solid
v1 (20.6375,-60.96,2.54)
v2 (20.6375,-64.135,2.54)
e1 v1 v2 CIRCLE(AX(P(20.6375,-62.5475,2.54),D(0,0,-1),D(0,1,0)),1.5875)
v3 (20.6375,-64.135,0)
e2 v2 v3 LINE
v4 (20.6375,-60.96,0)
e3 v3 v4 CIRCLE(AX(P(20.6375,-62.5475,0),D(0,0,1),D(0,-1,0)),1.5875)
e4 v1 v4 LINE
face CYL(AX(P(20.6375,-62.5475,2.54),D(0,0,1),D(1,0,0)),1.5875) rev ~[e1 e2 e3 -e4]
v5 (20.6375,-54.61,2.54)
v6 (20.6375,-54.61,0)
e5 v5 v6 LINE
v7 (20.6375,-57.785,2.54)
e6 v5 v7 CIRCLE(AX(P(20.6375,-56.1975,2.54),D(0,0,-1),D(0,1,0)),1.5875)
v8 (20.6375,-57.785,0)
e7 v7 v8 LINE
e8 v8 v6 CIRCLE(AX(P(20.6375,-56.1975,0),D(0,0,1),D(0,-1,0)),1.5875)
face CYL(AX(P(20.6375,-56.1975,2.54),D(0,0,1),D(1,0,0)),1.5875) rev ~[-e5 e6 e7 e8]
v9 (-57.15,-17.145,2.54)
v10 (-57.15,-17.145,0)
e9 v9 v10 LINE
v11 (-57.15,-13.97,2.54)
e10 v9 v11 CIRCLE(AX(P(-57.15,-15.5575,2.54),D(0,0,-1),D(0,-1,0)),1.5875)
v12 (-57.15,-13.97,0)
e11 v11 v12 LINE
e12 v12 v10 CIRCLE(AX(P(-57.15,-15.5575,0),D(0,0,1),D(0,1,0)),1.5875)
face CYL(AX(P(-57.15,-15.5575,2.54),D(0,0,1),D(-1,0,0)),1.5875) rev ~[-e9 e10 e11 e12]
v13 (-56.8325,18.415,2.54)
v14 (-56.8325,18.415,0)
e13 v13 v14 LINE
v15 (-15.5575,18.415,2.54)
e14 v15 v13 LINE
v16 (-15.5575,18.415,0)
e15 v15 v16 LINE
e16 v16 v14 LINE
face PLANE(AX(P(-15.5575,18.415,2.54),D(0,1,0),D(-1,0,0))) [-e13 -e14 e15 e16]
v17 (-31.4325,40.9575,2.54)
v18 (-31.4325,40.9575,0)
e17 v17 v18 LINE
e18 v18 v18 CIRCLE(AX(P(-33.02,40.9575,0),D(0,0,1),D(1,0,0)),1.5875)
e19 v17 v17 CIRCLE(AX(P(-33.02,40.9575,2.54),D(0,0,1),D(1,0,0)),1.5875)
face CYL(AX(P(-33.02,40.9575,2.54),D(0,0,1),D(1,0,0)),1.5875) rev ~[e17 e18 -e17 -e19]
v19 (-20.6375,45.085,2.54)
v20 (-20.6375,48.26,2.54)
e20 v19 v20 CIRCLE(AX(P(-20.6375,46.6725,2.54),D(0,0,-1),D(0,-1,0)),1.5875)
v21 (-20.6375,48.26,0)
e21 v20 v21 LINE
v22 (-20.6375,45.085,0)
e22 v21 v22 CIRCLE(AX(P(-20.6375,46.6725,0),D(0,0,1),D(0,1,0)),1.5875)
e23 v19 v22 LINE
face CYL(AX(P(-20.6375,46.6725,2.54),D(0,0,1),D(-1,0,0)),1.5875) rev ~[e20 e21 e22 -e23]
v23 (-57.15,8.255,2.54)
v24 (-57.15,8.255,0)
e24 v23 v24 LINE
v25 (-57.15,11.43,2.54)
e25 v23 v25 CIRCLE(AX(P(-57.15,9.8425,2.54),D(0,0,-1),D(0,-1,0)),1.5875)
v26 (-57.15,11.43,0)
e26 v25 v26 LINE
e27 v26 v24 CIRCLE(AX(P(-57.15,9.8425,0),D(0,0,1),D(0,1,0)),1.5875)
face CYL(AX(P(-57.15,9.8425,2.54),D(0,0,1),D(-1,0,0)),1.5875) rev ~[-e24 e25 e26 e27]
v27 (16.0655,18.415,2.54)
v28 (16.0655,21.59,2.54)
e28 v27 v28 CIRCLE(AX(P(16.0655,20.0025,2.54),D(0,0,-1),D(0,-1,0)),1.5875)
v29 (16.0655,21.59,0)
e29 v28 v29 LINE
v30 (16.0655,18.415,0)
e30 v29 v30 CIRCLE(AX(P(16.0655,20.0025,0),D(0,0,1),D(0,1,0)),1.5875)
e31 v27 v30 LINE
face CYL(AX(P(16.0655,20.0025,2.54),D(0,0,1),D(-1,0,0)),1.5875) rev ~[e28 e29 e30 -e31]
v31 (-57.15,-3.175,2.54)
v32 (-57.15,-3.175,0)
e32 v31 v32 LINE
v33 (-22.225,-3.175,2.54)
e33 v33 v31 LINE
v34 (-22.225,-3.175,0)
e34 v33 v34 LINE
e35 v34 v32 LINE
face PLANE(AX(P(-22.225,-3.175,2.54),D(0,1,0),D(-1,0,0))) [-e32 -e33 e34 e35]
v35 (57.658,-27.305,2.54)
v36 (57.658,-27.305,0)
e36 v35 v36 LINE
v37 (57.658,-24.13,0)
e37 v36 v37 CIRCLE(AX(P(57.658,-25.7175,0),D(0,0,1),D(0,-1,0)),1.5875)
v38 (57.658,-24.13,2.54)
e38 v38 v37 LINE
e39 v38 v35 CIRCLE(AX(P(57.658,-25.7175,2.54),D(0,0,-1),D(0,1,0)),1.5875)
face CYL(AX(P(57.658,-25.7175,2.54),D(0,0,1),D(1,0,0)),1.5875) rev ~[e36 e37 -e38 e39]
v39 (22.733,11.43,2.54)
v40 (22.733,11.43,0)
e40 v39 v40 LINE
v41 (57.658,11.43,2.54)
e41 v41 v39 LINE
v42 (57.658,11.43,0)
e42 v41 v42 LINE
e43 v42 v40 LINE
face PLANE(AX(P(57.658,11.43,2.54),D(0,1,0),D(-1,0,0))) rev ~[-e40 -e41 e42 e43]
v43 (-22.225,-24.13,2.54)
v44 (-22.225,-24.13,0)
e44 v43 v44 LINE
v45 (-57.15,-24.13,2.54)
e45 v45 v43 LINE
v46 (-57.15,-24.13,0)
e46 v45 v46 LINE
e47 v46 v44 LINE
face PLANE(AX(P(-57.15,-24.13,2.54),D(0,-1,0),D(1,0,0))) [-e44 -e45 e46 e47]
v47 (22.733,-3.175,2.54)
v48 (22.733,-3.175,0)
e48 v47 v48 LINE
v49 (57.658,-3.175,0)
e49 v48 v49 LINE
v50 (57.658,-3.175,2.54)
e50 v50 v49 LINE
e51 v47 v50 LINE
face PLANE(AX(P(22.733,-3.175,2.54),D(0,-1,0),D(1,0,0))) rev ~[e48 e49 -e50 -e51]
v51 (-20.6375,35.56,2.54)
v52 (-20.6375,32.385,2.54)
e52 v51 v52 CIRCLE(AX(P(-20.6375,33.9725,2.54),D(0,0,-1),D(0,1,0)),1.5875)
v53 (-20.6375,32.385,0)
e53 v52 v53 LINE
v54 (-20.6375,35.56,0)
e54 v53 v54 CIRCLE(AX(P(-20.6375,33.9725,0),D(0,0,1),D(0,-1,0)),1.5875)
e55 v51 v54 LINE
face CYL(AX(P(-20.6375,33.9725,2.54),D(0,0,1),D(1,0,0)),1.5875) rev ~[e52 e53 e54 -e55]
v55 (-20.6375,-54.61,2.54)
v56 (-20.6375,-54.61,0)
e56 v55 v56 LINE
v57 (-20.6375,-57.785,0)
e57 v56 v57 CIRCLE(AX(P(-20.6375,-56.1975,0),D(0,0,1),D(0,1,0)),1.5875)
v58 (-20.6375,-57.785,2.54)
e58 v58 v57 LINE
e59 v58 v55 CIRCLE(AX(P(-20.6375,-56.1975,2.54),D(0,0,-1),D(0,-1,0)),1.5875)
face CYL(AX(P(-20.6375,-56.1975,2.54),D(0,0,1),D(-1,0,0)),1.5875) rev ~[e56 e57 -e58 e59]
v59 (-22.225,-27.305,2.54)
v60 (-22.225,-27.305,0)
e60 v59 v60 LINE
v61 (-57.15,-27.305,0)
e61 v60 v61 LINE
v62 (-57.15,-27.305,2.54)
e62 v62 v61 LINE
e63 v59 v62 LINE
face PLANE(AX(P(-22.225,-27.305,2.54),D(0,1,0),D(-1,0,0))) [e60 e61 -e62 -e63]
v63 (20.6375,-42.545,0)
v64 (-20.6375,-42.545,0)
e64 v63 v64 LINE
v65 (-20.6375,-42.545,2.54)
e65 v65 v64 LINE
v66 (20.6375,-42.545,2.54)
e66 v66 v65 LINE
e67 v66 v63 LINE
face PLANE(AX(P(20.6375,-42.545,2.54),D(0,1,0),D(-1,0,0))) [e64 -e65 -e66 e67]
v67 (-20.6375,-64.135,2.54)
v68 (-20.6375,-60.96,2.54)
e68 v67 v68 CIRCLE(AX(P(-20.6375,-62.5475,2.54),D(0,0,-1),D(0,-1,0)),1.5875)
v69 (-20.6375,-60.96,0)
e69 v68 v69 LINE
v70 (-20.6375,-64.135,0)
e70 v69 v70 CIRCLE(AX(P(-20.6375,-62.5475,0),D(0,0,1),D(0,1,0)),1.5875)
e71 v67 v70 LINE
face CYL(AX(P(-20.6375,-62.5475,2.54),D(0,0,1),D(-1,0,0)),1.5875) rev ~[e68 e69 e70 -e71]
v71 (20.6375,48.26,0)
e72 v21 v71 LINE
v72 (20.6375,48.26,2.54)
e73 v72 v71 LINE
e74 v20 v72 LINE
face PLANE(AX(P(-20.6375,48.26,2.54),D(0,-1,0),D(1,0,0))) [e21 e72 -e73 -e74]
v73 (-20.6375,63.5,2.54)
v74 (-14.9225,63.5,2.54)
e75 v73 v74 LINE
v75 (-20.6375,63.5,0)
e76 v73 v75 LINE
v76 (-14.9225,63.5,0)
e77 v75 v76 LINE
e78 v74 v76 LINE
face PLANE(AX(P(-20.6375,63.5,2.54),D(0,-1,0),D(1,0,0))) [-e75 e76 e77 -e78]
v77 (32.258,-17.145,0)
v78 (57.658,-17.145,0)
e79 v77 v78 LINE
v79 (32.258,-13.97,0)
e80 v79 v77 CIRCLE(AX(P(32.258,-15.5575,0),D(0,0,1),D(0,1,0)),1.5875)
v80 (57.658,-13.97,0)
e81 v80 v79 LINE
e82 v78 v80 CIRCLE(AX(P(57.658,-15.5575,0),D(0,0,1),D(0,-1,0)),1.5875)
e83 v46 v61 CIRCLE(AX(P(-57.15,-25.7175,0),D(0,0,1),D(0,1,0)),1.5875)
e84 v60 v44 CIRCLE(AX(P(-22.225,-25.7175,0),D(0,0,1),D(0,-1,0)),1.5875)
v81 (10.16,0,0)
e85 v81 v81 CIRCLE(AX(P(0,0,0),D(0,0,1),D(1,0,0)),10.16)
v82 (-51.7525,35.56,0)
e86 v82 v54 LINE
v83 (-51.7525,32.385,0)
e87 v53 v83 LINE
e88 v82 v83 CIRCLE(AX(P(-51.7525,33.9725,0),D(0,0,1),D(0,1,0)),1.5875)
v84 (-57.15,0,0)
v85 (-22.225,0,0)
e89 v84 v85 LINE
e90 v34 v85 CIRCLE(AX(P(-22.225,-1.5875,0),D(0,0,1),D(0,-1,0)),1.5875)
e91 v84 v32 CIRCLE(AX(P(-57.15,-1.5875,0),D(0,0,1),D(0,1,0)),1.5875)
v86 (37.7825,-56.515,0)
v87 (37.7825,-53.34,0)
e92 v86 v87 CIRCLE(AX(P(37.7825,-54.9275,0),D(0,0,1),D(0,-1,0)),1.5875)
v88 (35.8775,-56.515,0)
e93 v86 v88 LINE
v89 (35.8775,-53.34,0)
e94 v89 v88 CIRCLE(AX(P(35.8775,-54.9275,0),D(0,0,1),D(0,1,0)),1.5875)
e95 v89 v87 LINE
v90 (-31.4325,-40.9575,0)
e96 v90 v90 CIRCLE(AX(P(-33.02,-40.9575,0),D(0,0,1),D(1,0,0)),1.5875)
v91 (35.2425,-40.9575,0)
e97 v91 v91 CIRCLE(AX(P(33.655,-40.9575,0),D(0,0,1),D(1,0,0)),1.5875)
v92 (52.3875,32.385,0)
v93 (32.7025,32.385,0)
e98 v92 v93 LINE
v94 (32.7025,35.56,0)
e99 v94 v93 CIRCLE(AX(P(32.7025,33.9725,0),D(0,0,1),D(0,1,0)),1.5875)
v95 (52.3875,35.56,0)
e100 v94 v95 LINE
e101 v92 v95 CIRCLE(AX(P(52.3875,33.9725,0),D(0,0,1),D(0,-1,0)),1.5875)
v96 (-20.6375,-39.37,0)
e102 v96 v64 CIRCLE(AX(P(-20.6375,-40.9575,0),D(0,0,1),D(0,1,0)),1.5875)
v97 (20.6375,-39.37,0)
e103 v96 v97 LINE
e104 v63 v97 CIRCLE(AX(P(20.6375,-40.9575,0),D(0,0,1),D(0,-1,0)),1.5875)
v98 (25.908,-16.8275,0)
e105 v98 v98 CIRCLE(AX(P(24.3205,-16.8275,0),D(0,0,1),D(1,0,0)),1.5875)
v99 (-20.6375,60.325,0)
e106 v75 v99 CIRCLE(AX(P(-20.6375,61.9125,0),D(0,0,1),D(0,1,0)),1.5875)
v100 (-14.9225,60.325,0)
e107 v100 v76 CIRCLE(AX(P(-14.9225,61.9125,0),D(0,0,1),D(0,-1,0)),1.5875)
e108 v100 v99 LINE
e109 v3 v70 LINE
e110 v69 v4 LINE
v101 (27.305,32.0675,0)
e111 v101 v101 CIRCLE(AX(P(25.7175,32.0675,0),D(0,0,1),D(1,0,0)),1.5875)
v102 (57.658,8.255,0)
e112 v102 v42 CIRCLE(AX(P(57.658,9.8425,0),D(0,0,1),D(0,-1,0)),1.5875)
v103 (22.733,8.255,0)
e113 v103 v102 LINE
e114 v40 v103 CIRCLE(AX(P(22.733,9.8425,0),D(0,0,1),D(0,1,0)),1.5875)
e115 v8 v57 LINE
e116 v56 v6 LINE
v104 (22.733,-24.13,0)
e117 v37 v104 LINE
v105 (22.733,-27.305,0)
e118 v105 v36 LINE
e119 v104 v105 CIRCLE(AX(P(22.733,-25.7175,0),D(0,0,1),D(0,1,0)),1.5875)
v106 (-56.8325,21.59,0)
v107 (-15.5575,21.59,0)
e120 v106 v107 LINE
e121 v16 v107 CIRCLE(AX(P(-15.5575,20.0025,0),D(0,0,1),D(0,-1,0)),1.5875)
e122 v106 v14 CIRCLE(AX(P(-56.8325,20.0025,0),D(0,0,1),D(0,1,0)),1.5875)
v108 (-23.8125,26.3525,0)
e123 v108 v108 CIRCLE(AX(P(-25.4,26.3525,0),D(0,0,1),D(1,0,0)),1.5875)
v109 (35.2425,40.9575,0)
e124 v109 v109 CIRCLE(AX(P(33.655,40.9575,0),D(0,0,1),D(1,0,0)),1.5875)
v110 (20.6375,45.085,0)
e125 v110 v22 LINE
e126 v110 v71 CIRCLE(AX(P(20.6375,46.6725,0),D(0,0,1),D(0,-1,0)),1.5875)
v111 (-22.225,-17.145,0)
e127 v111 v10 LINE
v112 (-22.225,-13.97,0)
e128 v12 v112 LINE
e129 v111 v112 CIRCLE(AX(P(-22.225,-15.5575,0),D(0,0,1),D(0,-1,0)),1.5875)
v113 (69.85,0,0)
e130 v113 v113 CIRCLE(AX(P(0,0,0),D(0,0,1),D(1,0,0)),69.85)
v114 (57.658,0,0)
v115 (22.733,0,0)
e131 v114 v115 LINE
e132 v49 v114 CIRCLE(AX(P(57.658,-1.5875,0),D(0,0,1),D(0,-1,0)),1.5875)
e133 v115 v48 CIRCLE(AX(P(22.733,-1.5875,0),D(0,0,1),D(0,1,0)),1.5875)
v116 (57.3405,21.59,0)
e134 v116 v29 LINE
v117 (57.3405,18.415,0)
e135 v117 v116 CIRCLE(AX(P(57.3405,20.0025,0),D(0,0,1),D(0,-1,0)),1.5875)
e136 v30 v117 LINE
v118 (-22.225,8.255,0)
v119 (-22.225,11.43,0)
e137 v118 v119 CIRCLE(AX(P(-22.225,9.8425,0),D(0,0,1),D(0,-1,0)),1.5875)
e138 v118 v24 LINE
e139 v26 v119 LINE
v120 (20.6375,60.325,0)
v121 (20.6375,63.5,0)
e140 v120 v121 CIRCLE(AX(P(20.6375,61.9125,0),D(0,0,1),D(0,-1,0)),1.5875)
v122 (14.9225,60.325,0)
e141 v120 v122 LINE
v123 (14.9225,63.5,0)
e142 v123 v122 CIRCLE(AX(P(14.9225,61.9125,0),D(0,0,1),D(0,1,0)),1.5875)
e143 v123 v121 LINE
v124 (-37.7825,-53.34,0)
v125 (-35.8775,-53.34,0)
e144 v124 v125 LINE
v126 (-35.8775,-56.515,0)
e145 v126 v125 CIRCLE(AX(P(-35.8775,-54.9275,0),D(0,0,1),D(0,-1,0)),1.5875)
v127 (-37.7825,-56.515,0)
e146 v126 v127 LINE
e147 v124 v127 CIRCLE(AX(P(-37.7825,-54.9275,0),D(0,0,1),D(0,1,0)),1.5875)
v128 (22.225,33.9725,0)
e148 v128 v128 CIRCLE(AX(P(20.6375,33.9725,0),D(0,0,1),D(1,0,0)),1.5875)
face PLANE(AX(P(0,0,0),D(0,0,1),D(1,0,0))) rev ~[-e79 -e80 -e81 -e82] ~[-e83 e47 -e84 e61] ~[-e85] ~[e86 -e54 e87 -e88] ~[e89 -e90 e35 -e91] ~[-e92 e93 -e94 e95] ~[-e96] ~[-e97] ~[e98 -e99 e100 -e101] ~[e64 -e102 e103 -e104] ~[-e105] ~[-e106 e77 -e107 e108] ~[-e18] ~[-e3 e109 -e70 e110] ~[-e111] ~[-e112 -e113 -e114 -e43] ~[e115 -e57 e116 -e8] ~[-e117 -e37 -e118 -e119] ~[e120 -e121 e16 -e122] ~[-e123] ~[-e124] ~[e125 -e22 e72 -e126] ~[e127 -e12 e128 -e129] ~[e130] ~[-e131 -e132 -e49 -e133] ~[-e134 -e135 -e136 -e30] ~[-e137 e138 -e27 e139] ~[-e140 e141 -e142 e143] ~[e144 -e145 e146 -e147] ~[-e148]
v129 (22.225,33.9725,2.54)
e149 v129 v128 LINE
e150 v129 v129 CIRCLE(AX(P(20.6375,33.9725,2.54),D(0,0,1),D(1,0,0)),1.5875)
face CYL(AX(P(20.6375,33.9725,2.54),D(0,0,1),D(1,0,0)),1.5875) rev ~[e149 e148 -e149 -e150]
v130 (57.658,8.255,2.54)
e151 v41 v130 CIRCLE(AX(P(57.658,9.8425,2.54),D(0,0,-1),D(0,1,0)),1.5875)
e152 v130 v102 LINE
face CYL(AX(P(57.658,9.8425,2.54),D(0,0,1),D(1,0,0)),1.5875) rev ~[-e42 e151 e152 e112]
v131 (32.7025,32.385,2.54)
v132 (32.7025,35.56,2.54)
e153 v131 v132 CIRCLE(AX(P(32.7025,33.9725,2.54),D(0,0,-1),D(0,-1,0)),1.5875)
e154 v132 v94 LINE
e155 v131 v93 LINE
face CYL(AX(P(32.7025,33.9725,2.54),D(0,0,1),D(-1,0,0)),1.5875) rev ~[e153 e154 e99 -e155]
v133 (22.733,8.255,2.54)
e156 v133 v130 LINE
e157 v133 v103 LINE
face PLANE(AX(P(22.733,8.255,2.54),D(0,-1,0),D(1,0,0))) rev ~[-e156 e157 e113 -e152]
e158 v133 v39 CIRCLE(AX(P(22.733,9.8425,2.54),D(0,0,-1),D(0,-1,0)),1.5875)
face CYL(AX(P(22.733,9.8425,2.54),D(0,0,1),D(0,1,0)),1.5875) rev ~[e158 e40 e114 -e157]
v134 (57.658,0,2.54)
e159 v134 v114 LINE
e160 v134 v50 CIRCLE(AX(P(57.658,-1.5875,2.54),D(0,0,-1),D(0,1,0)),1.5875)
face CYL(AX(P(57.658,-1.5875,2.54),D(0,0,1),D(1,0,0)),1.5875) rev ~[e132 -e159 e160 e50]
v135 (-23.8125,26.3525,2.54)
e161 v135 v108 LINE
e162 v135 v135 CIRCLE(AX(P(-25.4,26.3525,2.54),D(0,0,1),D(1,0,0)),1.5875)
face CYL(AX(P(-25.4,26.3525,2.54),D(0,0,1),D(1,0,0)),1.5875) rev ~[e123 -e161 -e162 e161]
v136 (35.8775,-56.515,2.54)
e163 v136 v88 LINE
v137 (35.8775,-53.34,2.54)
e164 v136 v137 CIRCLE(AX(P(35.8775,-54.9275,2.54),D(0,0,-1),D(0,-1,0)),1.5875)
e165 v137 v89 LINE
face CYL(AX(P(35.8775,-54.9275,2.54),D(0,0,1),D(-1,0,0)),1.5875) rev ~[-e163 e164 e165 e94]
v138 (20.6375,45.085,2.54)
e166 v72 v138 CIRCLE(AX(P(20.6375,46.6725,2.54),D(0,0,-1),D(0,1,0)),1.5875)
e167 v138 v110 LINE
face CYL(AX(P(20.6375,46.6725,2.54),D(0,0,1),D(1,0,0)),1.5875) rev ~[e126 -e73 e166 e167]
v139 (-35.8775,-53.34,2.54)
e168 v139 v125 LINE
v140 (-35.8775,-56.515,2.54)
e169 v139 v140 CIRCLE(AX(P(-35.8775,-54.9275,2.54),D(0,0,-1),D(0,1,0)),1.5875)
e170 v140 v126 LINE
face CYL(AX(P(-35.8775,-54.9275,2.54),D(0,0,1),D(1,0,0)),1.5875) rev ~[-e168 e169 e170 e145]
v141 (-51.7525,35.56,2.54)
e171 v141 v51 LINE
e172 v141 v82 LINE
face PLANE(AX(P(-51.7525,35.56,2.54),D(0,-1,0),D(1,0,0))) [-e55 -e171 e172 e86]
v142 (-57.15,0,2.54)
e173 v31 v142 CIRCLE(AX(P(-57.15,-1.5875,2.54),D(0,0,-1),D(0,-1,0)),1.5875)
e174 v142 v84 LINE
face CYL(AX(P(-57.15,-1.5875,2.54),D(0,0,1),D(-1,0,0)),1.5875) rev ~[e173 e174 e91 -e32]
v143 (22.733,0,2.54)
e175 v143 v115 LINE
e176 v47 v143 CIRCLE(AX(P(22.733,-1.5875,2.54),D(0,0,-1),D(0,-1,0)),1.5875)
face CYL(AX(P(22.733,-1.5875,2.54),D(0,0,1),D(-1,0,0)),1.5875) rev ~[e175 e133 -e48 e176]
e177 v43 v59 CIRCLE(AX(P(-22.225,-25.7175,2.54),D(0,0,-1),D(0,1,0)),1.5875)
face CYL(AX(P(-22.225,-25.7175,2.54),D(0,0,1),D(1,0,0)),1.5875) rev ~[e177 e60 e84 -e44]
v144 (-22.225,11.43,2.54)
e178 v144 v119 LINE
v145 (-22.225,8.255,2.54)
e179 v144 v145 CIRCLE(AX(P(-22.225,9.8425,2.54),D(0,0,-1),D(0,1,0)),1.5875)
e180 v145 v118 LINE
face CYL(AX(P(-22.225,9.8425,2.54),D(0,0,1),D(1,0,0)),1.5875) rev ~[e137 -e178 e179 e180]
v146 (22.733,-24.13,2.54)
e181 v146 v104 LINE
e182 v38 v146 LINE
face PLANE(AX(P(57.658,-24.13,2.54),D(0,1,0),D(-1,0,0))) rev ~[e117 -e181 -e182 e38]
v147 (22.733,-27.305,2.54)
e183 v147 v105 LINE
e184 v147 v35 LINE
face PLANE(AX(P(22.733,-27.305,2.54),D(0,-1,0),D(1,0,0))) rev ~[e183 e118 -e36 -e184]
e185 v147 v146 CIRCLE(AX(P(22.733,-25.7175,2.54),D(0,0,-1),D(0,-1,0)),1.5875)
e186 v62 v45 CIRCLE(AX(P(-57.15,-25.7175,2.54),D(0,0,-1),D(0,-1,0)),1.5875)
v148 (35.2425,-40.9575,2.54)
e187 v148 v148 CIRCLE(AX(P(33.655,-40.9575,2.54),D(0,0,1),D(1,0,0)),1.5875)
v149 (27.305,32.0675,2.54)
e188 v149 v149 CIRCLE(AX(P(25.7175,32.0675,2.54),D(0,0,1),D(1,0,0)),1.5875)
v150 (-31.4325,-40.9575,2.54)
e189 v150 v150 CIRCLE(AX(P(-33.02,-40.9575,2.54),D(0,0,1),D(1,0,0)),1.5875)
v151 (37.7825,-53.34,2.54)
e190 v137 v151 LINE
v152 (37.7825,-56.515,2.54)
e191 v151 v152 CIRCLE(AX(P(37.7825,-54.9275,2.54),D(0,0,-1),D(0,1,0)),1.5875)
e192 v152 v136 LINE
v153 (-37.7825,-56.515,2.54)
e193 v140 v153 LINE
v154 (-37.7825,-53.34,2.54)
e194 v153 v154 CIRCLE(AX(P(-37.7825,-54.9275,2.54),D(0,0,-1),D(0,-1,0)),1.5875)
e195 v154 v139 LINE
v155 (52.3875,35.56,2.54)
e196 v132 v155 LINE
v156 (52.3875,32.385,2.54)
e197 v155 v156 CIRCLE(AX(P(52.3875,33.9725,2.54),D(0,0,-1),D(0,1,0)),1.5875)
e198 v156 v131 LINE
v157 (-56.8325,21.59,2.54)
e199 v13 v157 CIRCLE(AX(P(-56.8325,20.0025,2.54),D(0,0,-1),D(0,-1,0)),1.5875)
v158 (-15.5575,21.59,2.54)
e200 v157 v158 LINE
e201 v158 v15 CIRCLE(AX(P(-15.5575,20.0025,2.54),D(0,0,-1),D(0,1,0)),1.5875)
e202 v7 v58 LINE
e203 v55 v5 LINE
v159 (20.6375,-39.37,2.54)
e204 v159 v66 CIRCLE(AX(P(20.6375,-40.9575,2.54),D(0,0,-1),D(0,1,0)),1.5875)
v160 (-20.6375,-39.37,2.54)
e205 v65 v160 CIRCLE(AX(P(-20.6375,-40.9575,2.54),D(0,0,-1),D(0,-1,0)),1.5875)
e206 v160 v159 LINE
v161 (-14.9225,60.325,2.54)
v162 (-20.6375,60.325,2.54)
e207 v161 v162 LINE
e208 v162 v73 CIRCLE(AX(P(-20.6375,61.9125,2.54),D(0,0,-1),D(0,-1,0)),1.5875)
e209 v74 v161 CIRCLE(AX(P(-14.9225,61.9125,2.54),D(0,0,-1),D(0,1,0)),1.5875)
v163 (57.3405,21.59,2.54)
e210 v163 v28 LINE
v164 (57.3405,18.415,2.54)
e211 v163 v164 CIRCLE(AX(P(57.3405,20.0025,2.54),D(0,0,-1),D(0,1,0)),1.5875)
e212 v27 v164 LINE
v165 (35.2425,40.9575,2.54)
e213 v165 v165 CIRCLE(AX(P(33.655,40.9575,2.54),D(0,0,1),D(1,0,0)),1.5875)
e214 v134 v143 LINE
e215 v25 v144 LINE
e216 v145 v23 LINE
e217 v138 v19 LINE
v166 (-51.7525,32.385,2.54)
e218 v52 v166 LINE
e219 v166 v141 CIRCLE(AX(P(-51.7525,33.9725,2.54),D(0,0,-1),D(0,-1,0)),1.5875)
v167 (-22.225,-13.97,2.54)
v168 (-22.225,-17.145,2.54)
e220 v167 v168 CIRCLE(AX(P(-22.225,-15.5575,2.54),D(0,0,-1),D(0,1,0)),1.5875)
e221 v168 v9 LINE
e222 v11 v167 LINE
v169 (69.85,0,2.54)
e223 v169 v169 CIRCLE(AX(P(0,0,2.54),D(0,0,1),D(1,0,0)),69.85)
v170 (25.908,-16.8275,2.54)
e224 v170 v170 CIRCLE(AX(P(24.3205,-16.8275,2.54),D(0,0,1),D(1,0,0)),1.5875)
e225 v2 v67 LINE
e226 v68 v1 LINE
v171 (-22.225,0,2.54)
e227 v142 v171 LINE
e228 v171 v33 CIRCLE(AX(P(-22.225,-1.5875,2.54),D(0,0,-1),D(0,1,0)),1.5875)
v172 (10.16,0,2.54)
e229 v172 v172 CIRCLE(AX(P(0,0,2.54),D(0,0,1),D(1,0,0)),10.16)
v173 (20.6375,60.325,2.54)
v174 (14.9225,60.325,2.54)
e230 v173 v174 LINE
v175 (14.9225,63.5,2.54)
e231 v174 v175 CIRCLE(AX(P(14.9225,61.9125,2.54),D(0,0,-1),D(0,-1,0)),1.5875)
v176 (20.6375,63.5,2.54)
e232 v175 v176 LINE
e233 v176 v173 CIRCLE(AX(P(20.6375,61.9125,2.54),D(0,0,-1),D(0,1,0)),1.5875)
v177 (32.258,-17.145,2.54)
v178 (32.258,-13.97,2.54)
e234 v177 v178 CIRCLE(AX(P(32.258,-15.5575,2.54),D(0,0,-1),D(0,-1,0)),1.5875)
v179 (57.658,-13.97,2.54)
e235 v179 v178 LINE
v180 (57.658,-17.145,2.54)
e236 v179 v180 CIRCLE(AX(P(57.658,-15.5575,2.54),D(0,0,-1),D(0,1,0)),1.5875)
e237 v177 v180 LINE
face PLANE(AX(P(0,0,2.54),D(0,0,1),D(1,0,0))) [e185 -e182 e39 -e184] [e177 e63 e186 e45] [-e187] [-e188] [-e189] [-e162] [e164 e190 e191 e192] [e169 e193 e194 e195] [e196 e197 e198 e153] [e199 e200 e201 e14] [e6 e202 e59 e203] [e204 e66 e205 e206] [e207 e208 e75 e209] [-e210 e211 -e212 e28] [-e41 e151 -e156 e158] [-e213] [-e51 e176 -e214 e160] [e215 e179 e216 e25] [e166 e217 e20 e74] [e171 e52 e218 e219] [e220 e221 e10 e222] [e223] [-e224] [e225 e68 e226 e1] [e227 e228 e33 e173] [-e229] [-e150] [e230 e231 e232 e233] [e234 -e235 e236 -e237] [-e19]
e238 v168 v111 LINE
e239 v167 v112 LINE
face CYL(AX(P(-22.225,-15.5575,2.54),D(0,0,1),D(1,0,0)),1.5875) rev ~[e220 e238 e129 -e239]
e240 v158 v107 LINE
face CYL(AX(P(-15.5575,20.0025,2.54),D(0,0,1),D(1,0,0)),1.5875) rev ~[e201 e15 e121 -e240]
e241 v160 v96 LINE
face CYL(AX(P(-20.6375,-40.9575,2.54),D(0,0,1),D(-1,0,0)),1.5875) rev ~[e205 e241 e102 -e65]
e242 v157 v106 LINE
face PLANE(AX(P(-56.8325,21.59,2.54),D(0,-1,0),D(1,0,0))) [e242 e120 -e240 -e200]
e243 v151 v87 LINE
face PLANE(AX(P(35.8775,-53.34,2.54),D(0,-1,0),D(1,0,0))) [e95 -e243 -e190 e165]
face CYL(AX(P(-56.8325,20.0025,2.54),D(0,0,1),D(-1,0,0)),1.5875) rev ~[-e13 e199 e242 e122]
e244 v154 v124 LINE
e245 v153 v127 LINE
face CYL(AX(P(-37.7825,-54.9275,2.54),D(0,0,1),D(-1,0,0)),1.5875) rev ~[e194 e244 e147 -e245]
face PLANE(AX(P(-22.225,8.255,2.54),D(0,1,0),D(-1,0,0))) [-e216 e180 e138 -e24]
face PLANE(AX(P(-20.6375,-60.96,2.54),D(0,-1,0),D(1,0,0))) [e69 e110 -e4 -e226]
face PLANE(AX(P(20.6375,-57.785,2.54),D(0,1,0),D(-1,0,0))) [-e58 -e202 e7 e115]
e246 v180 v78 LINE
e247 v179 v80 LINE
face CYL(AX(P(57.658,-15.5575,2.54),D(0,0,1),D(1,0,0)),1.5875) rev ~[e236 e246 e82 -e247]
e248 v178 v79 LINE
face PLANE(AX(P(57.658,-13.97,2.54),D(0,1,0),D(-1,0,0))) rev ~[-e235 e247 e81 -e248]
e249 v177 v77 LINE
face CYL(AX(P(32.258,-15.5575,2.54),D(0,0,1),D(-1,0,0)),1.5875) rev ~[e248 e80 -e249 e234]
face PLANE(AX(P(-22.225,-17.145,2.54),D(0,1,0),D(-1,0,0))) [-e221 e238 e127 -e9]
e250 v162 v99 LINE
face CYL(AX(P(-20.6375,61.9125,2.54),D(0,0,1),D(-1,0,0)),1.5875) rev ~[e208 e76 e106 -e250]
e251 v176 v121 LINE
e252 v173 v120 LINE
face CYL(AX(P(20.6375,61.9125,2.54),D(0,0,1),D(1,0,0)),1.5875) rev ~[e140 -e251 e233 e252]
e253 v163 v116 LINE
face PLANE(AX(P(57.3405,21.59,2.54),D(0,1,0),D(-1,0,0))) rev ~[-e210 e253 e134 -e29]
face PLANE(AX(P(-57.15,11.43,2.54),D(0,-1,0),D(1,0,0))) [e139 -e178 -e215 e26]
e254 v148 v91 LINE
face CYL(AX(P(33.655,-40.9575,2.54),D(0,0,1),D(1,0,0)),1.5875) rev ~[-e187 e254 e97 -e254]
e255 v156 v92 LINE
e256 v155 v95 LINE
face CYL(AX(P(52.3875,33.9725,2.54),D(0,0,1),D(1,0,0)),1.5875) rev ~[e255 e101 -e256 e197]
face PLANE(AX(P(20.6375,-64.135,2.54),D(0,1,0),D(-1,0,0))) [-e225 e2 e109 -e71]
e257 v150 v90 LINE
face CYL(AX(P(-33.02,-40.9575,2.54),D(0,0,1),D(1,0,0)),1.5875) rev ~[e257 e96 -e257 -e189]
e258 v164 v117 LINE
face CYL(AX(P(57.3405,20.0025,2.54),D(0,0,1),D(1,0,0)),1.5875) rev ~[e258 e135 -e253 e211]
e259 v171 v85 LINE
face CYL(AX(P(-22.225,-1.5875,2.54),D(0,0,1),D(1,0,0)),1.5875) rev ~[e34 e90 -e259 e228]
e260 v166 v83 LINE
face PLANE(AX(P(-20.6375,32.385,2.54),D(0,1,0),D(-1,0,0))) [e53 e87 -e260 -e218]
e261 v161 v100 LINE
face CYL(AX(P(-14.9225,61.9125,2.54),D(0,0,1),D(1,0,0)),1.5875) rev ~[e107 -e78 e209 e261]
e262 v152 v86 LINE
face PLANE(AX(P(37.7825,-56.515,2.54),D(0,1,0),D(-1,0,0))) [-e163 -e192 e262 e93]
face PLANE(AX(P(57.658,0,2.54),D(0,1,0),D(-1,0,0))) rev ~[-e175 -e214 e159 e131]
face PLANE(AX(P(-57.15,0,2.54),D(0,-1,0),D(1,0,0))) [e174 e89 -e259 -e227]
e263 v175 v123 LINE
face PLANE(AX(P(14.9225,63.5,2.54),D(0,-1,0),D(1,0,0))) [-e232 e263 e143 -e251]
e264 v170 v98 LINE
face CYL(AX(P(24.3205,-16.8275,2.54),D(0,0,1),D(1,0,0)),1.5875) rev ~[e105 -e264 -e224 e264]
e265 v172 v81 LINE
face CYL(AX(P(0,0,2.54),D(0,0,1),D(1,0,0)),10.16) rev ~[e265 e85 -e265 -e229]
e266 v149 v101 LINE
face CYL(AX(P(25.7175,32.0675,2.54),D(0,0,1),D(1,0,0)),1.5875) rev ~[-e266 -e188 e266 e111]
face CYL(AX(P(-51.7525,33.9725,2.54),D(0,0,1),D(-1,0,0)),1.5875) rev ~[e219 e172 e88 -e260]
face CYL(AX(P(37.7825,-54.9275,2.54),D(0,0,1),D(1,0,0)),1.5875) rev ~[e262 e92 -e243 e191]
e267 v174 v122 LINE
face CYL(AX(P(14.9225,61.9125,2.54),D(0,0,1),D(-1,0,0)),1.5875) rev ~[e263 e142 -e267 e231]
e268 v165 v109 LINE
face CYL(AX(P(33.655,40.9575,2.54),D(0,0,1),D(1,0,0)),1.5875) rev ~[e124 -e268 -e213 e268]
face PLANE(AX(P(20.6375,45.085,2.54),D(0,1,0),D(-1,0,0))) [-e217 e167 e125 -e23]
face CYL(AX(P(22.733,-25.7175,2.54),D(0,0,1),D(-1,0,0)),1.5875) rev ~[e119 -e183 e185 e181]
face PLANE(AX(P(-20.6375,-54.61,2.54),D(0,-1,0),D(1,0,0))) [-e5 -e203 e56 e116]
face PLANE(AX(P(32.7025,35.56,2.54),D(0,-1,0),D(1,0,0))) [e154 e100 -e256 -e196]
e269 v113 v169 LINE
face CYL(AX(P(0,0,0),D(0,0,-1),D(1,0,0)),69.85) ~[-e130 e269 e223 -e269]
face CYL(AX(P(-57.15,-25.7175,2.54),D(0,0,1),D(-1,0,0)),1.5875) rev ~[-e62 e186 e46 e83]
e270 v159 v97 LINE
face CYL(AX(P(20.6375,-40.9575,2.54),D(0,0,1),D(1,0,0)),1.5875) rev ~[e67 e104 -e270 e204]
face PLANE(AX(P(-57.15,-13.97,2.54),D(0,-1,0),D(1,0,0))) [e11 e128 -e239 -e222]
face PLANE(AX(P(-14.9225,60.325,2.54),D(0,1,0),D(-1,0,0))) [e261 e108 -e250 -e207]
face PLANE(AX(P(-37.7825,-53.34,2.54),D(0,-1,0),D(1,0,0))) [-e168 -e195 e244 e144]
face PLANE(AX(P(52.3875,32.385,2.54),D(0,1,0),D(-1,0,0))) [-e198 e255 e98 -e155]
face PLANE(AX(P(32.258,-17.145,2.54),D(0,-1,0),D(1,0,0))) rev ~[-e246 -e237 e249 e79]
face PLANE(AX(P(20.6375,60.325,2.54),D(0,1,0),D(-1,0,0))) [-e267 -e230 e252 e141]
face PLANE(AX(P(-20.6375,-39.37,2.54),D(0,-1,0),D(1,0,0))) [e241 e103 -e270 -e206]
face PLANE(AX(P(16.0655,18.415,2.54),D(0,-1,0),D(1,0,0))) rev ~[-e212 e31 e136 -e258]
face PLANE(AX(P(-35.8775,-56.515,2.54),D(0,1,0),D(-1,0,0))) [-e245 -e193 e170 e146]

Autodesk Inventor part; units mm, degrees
ref_plane "YZ Plane" through (0, 0, 0) normal (1, 0, 0) x (0, 1, 0)
ref_plane "XZ Plane" through (0, 0, 0) normal (0, 1, 0) x (-1, 0, 0)
ref_plane "XY Plane" through (0, 0, 0) normal (0, 0, 1) x (1, 0, 0)
sketch "Sketch1" plane through (0, 0, 0) normal (0, 0, 1) x (1, 0, 0)
  circle A0 centre (0, 0) radius 69.85
  dimension "d0" = 139.7
extrude "Extrusion1" add sketch "Sketch1" along normal blind 2.54
sketch "Sketch2" plane through (0, 0, 2.54) normal (0, 0, 1) x (1, 0, 0)
  circle A0 centre (0, 0) radius 10.16
  dimension "d3" = 20.32
extrude "Extrusion2" cut sketch "Sketch2" against normal blind 2.54
sketch "Sketch3" plane through (0, 0, 2.54) normal (0, 0, 1) x (1, 0, 0)
  circle A0 centre (0, 0) radius 69.85 projected
  line L0 (-20.6375, 48.26) -> (20.6375, 48.26)
  line L1 (22.225, 46.6725) -> (22.225, 46.6725)
  line L2 (20.6375, 45.085) -> (-20.6375, 45.085)
  line L3 (-22.225, 46.6725) -> (-22.225, 46.6725)
  line L4 (14.9225, 63.5) -> (20.6375, 63.5)
  line L5 (22.225, 61.9125) -> (22.225, 61.9125)
  line L6 (20.6375, 60.325) -> (14.9225, 60.325)
  line L7 (13.335, 61.9125) -> (13.335, 61.9125)
  line L8 (-14.9225, 60.325) -> (-20.6375, 60.325)
  line L9 (-22.225, 61.9125) -> (-22.225, 61.9125)
  line L10 (-20.6375, 63.5) -> (-14.9225, 63.5)
  line L11 (-13.335, 61.9125) -> (-13.335, 61.9125)
  arc A1 (20.6375, 45.085) -> (22.225, 46.6725) centre (20.6375, 46.6725) ccw
  arc A2 (22.225, 46.6725) -> (20.6375, 48.26) centre (20.6375, 46.6725) ccw
  circle A3 centre (20.6375, 33.9725) radius 1.5875
  line L12 (32.7025, 35.56) -> (52.3875, 35.56)
  line L13 (53.975, 33.9725) -> (53.975, 33.9725)
  line L14 (52.3875, 32.385) -> (32.7025, 32.385)
  line L15 (31.115, 33.9725) -> (31.115, 33.9725)
  circle A4 centre (33.655, 40.9575) radius 1.5875
  circle A5 centre (25.7175, 32.0675) radius 1.5875
  circle A6 centre (-33.02, 40.9575) radius 1.5875
  line L16 (-51.7525, 35.56) -> (-20.6375, 35.56)
  line L17 (-19.05, 33.9725) -> (-19.05, 33.9725)
  line L18 (-20.6375, 32.385) -> (-51.7525, 32.385)
  line L19 (-53.34, 33.9725) -> (-53.34, 33.9725)
  arc A7 (-20.6375, 48.26) -> (-22.225, 46.6725) centre (-20.6375, 46.6725) ccw
  arc A8 (-22.225, 46.6725) -> (-20.6375, 45.085) centre (-20.6375, 46.6725) ccw
  arc A9 (-20.6375, 32.385) -> (-19.05, 33.9725) centre (-20.6375, 33.9725) ccw
  arc A10 (-19.05, 33.9725) -> (-20.6375, 35.56) centre (-20.6375, 33.9725) ccw
  circle A11 centre (-25.4, 26.3525) radius 1.5875
  arc A12 (-22.225, 61.9125) -> (-20.6375, 60.325) centre (-20.6375, 61.9125) ccw
  arc A13 (-20.6375, 63.5) -> (-22.225, 61.9125) centre (-20.6375, 61.9125) ccw
  arc A14 (-13.335, 61.9125) -> (-14.9225, 63.5) centre (-14.9225, 61.9125) ccw
  arc A15 (-14.9225, 60.325) -> (-13.335, 61.9125) centre (-14.9225, 61.9125) ccw
  arc A16 (14.9225, 63.5) -> (13.335, 61.9125) centre (14.9225, 61.9125) ccw
  arc A17 (13.335, 61.9125) -> (14.9225, 60.325) centre (14.9225, 61.9125) ccw
  arc A18 (20.6375, 60.325) -> (22.225, 61.9125) centre (20.6375, 61.9125) ccw
  arc A19 (22.225, 61.9125) -> (20.6375, 63.5) centre (20.6375, 61.9125) ccw
  arc A20 (-51.7525, 35.56) -> (-53.34, 33.9725) centre (-51.7525, 33.9725) ccw
  arc A21 (-53.34, 33.9725) -> (-51.7525, 32.385) centre (-51.7525, 33.9725) ccw
  arc A22 (32.7025, 35.56) -> (31.115, 33.9725) centre (32.7025, 33.9725) ccw
  arc A23 (31.115, 33.9725) -> (32.7025, 32.385) centre (32.7025, 33.9725) ccw
  arc A24 (52.3875, 32.385) -> (53.975, 33.9725) centre (52.3875, 33.9725) ccw
  arc A25 (53.975, 33.9725) -> (52.3875, 35.56) centre (52.3875, 33.9725) ccw
  line L20 (-56.8325, 21.59) -> (-15.5575, 21.59)
  line L21 (-13.97, 20.0025) -> (-13.97, 20.0025)
  line L22 (-15.5575, 18.415) -> (-56.8325, 18.415)
  line L23 (-58.42, 20.0025) -> (-58.42, 20.0025)
  line L24 (-57.15, 11.43) -> (-22.225, 11.43)
  line L25 (-20.6375, 9.8425) -> (-20.6375, 9.8425)
  line L26 (-22.225, 8.255) -> (-57.15, 8.255)
  line L27 (-58.7375, 9.8425) -> (-58.7375, 9.8425)
  line L28 (-57.15, 0) -> (-22.225, 0)
  line L29 (-20.6375, -1.5875) -> (-20.6375, -1.5875)
  line L30 (-22.225, -3.175) -> (-57.15, -3.175)
  line L31 (-58.7375, -1.5875) -> (-58.7375, -1.5875)
  line L32 (-57.15, -13.97) -> (-22.225, -13.97)
  line L33 (-20.6375, -15.5575) -> (-20.6375, -15.5575)
  line L34 (-22.225, -17.145) -> (-57.15, -17.145)
  line L35 (-58.7375, -15.5575) -> (-58.7375, -15.5575)
  line L36 (-57.15, -24.13) -> (-22.225, -24.13)
  line L37 (-20.6375, -25.7175) -> (-20.6375, -25.7175)
  line L38 (-22.225, -27.305) -> (-57.15, -27.305)
  line L39 (-58.7375, -25.7175) -> (-58.7375, -25.7175)
  arc A26 (-56.8325, 21.59) -> (-58.42, 20.0025) centre (-56.8325, 20.0025) ccw
  arc A27 (-58.42, 20.0025) -> (-56.8325, 18.415) centre (-56.8325, 20.0025) ccw
  arc A28 (-15.5575, 18.415) -> (-13.97, 20.0025) centre (-15.5575, 20.0025) ccw
  arc A29 (-13.97, 20.0025) -> (-15.5575, 21.59) centre (-15.5575, 20.0025) ccw
  arc A30 (-57.15, 11.43) -> (-58.7375, 9.8425) centre (-57.15, 9.8425) ccw
  arc A31 (-58.7375, 9.8425) -> (-57.15, 8.255) centre (-57.15, 9.8425) ccw
  arc A32 (-22.225, 8.255) -> (-20.6375, 9.8425) centre (-22.225, 9.8425) ccw
  arc A33 (-20.6375, 9.8425) -> (-22.225, 11.43) centre (-22.225, 9.8425) ccw
  arc A34 (-58.7375, -1.5875) -> (-57.15, -3.175) centre (-57.15, -1.5875) ccw
  arc A35 (-57.15, 0) -> (-58.7375, -1.5875) centre (-57.15, -1.5875) ccw
  arc A36 (-20.6375, -1.5875) -> (-22.225, 0) centre (-22.225, -1.5875) ccw
  arc A37 (-22.225, -3.175) -> (-20.6375, -1.5875) centre (-22.225, -1.5875) ccw
  arc A38 (-20.6375, -15.5575) -> (-22.225, -13.97) centre (-22.225, -15.5575) ccw
  arc A39 (-22.225, -17.145) -> (-20.6375, -15.5575) centre (-22.225, -15.5575) ccw
  arc A40 (-58.7375, -15.5575) -> (-57.15, -17.145) centre (-57.15, -15.5575) ccw
  arc A41 (-57.15, -13.97) -> (-58.7375, -15.5575) centre (-57.15, -15.5575) ccw
  arc A42 (-57.15, -24.13) -> (-58.7375, -25.7175) centre (-57.15, -25.7175) ccw
  arc A43 (-58.7375, -25.7175) -> (-57.15, -27.305) centre (-57.15, -25.7175) ccw
  arc A44 (-22.225, -27.305) -> (-20.6375, -25.7175) centre (-22.225, -25.7175) ccw
  arc A45 (-20.6375, -25.7175) -> (-22.225, -24.13) centre (-22.225, -25.7175) ccw
  arc A46 (22.733, -24.13) -> (21.1455, -25.7175) centre (22.733, -25.7175) ccw
  arc A47 (21.1455, -25.7175) -> (22.733, -27.305) centre (22.733, -25.7175) ccw
  line L40 (58.928, 20.0025) -> (58.928, 20.0025)
  arc A48 (21.1455, 9.8425) -> (22.733, 8.255) centre (22.733, 9.8425) ccw
  line L41 (22.733, -3.175) -> (57.658, -3.175)
  line L42 (57.658, 0) -> (22.733, 0)
  arc A49 (57.658, -3.175) -> (59.2455, -1.5875) centre (57.658, -1.5875) ccw
  arc A50 (59.2455, -1.5875) -> (57.658, 0) centre (57.658, -1.5875) ccw
  line L43 (22.733, 8.255) -> (57.658, 8.255)
  arc A51 (57.658, 8.255) -> (59.2455, 9.8425) centre (57.658, 9.8425) ccw
  line L44 (57.658, 11.43) -> (22.733, 11.43)
  arc A52 (59.2455, 9.8425) -> (57.658, 11.43) centre (57.658, 9.8425) ccw
  arc A53 (57.3405, 18.415) -> (58.928, 20.0025) centre (57.3405, 20.0025) ccw
  line L45 (16.0655, 18.415) -> (57.3405, 18.415)
  line L46 (57.3405, 21.59) -> (16.0655, 21.59)
  arc A54 (22.733, 11.43) -> (21.1455, 9.8425) centre (22.733, 9.8425) ccw
  arc A55 (21.1455, -1.5875) -> (22.733, -3.175) centre (22.733, -1.5875) ccw
  arc A56 (14.478, 20.0025) -> (16.0655, 18.415) centre (16.0655, 20.0025) ccw
  line L47 (21.1455, 9.8425) -> (21.1455, 9.8425)
  line L48 (14.478, 20.0025) -> (14.478, 20.0025)
  arc A57 (16.0655, 21.59) -> (14.478, 20.0025) centre (16.0655, 20.0025) ccw
  line L49 (21.1455, -25.7175) -> (21.1455, -25.7175)
  line L50 (59.2455, -25.7175) -> (59.2455, -25.7175)
  arc A58 (57.658, -27.305) -> (59.2455, -25.7175) centre (57.658, -25.7175) ccw
  line L51 (57.658, -24.13) -> (22.733, -24.13)
  line L52 (22.733, -27.305) -> (57.658, -27.305)
  line L53 (21.1455, -1.5875) -> (21.1455, -1.5875)
  arc A59 (22.733, 0) -> (21.1455, -1.5875) centre (22.733, -1.5875) ccw
  line L54 (59.2455, -15.5575) -> (59.2455, -15.5575)
  arc A60 (59.2455, -25.7175) -> (57.658, -24.13) centre (57.658, -25.7175) ccw
  line L55 (59.2455, -1.5875) -> (59.2455, -1.5875)
  line L56 (59.2455, 9.8425) -> (59.2455, 9.8425)
  arc A61 (58.928, 20.0025) -> (57.3405, 21.59) centre (57.3405, 20.0025) ccw
  line L57 (32.258, -17.145) -> (57.658, -17.145)
  line L58 (59.2455, -15.5575) -> (59.2455, -15.5575)
  line L59 (57.658, -13.97) -> (32.258, -13.97)
  line L60 (30.6705, -15.5575) -> (30.6705, -15.5575)
  arc A62 (30.6705, -15.5575) -> (32.258, -17.145) centre (32.258, -15.5575) ccw
  arc A63 (32.258, -13.97) -> (30.6705, -15.5575) centre (32.258, -15.5575) ccw
  arc A64 (57.658, -17.145) -> (59.2455, -15.5575) centre (57.658, -15.5575) ccw
  arc A65 (59.2455, -15.5575) -> (57.658, -13.97) centre (57.658, -15.5575) ccw
  circle A66 centre (24.3205, -16.8275) radius 1.5875
  circle A67 centre (33.655, -40.9575) radius 1.5875
  circle A68 centre (-33.02, -40.9575) radius 1.5875
  line L61 (-20.6375, -39.37) -> (20.6375, -39.37)
  line L62 (22.225, -40.9575) -> (22.225, -40.9575)
  line L63 (20.6375, -42.545) -> (-20.6375, -42.545)
  line L64 (-22.225, -40.9575) -> (-22.225, -40.9575)
  line L65 (-20.6375, -54.61) -> (20.6375, -54.61)
  line L66 (22.225, -56.1975) -> (22.225, -56.1975)
  line L67 (20.6375, -57.785) -> (-20.6375, -57.785)
  line L68 (-22.225, -56.1975) -> (-22.225, -56.1975)
  line L69 (-20.6375, -60.96) -> (20.6375, -60.96)
  line L70 (22.225, -62.5475) -> (22.225, -62.5475)
  line L71 (20.6375, -64.135) -> (-20.6375, -64.135)
  line L72 (-22.225, -62.5475) -> (-22.225, -62.5475)
  line L73 (35.8775, -53.34) -> (37.7825, -53.34)
  line L74 (39.37, -54.9275) -> (39.37, -54.9275)
  line L75 (37.7825, -56.515) -> (35.8775, -56.515)
  line L76 (34.29, -54.9275) -> (34.29, -54.9275)
  line L77 (-37.7825, -53.34) -> (-35.8775, -53.34)
  line L78 (-34.29, -54.9275) -> (-34.29, -54.9275)
  line L79 (-35.8775, -56.515) -> (-37.7825, -56.515)
  line L80 (-39.37, -54.9275) -> (-39.37, -54.9275)
  arc A69 (-20.6375, -39.37) -> (-22.225, -40.9575) centre (-20.6375, -40.9575) ccw
  arc A70 (-22.225, -40.9575) -> (-20.6375, -42.545) centre (-20.6375, -40.9575) ccw
  arc A71 (20.6375, -42.545) -> (22.225, -40.9575) centre (20.6375, -40.9575) ccw
  arc A72 (22.225, -40.9575) -> (20.6375, -39.37) centre (20.6375, -40.9575) ccw
  arc A73 (22.225, -56.1975) -> (20.6375, -54.61) centre (20.6375, -56.1975) ccw
  arc A74 (20.6375, -57.785) -> (22.225, -56.1975) centre (20.6375, -56.1975) ccw
  arc A75 (-22.225, -56.1975) -> (-20.6375, -57.785) centre (-20.6375, -56.1975) ccw
  arc A76 (-20.6375, -54.61) -> (-22.225, -56.1975) centre (-20.6375, -56.1975) ccw
  arc A77 (-22.225, -62.5475) -> (-20.6375, -64.135) centre (-20.6375, -62.5475) ccw
  arc A78 (-20.6375, -60.96) -> (-22.225, -62.5475) centre (-20.6375, -62.5475) ccw
  arc A79 (22.225, -62.5475) -> (20.6375, -60.96) centre (20.6375, -62.5475) ccw
  arc A80 (20.6375, -64.135) -> (22.225, -62.5475) centre (20.6375, -62.5475) ccw
  arc A81 (34.29, -54.9275) -> (35.8775, -56.515) centre (35.8775, -54.9275) ccw
  arc A82 (35.8775, -53.34) -> (34.29, -54.9275) centre (35.8775, -54.9275) ccw
  arc A83 (39.37, -54.9275) -> (37.7825, -53.34) centre (37.7825, -54.9275) ccw
  arc A84 (37.7825, -56.515) -> (39.37, -54.9275) centre (37.7825, -54.9275) ccw
  arc A85 (-35.8775, -56.515) -> (-34.29, -54.9275) centre (-35.8775, -54.9275) ccw
  arc A86 (-34.29, -54.9275) -> (-35.8775, -53.34) centre (-35.8775, -54.9275) ccw
  arc A87 (-37.7825, -53.34) -> (-39.37, -54.9275) centre (-37.7825, -54.9275) ccw
  arc A88 (-39.37, -54.9275) -> (-37.7825, -56.515) centre (-37.7825, -54.9275) ccw
  point P0 (0, 69.85)
  point P1 (69.85, 0)
  point P2 (0, -69.85)
  point P3 (-69.85, 0)
  point P4 (22.225, 45.085)
  point P5 (22.225, 48.26)
  point P6 (-22.225, 45.085)
  point P7 (22.225, 60.325)
  point P8 (22.225, 63.5)
  point P9 (13.335, 60.325)
  point P10 (-13.335, 60.325)
  point P11 (-22.225, 63.5)
  point P12 (-22.225, 60.325)
  point P13 (53.975, 32.385)
  point P14 (53.975, 35.56)
  point P15 (31.115, 32.385)
  point P16 (-19.05, 32.385)
  point P17 (-19.05, 35.56)
  point P18 (-53.34, 32.385)
  point P19 (-13.97, 18.415)
  point P20 (-13.97, 21.59)
  point P21 (-58.42, 18.415)
  point P22 (-20.6375, 8.255)
  point P23 (-20.6375, 11.43)
  point P24 (-58.7375, 8.255)
  point P25 (-20.6375, -3.175)
  point P26 (-20.6375, 0)
  point P27 (-58.7375, -3.175)
  point P28 (-20.6375, -17.145)
  point P29 (-20.6375, -13.97)
  point P30 (-58.7375, -17.145)
  point P31 (-20.6375, -27.305)
  point P32 (-20.6375, -24.13)
  point P33 (-58.7375, -27.305)
  point P34 (14.478, 20.0025)
  point P35 (59.2455, -3.175)
  point P36 (59.2455, 8.255)
  point P37 (58.928, 18.415)
  point P38 (21.1455, -24.13)
  point P39 (30.6705, -17.145)
  point P40 (21.1455, 0)
  point P41 (21.1455, 8.255)
  point P42 (14.478, 18.415)
  point P43 (14.478, 21.59)
  point P44 (21.1455, -27.305)
  point P45 (59.2455, -27.305)
  point P46 (21.1455, -3.175)
  point P47 (59.2455, -17.145)
  point P48 (21.1455, 11.43)
  point P49 (30.6705, -17.145)
  point P50 (-22.225, -39.37)
  point P51 (22.225, -39.37)
  point P52 (-22.225, -54.61)
  point P53 (22.225, -54.61)
  point P54 (-22.225, -60.96)
  point P55 (22.225, -60.96)
  point P56 (34.29, -53.34)
  point P57 (39.37, -56.515)
  point P58 (39.37, -53.34)
  point P59 (-39.37, -53.34)
  point P60 (-34.29, -53.34)
  dimension "d6" = 44.45
  dimension "d7" = 3.175
  dimension "d8" = 22.225
  dimension "d9" = 21.59
  dimension "d10" = 8.89
  dimension "d11" = 8.89
  dimension "d12" = 3.175
  dimension "d13" = 3.175
  dimension "d14" = 12.065
  dimension "d15" = 12.065
  dimension "d16" = 1.5875
  dimension "d17" = 3.175
  dimension "d18" = 11.1125
  dimension "d19" = 3.175
  dimension "d20" = 22.86
  dimension "d21" = 10.4775
  dimension "d22" = 3.175
  dimension "d23" = 5.3975
  dimension "d24" = 2.54
  dimension "d25" = 3.175
  dimension "d26" = 5.08
  dimension "d27" = 1.905
  dimension "d28" = 3.175
  dimension "d29" = 3.175
  dimension "d30" = 34.29
  dimension "d31" = 1.5875
  dimension "d32" = 1.5875
  dimension "d33" = 1.5875
  dimension "d34" = 0
  dimension "d35" = 13.97
  dimension "d36" = 3.175
  dimension "d37" = 6.0325
  dimension "d38" = 6.35
  dimension "d39" = 1.5875
  dimension "d40" = 3.175
  dimension "d41" = 44.45
  dimension "d42" = 5.08
  dimension "d43" = 10.795
  dimension "d44" = 3.175
  dimension "d45" = 38.1
  dimension "d46" = 6.985
  dimension "d47" = 3.175
  dimension "d48" = 38.1
  dimension "d49" = 3.175
  dimension "d50" = 38.1
  dimension "d51" = 3.175
  dimension "d52" = 38.1
  dimension "d53" = 8.255
  dimension "d54" = 10.795
  dimension "d55" = 6.985
  dimension "d56" = 1.5875
  dimension "d57" = 28.448
  dimension "d74" = 28.575
  dimension "d75" = 1.5875
  dimension "d76" = 3.175
  dimension "d77" = 6.35
  dimension "d78" = 1.27
  dimension "d79" = 44.45
  dimension "d80" = 22.225
  dimension "d81" = 44.45
  dimension "d82" = 44.45
  dimension "d83" = 39.37
  dimension "d84" = 12.065
  dimension "d85" = 3.175
extrude "Extrusion3" cut sketch "Sketch3" against normal blind 2.54 contours L0 A2 A1 L2 A8 A7 | L4 A19 A18 L6 A17 A16 | L8 A12 A13 L10 A14 A15 | A3 | L12 A25 A24 L14 A23 A22 | A4 | A5 | A6 | L16 A10 A9 L18 A21 A20 | A11 | L20 A29 A28 L22 A27 A26 | L24 A33 A32 L26 A31 A30 | L28 A36 A37 L30 A34 A35 | L32 A38 A39 L34 A40 A41 | L36 A45 A44 L38 A43 A42 | L51 A60 A58 L52 A47 A46 | A54 L44 A52 A51 L43 A48 | A55 A59 L42 A50 A49 L41 | L45 A56 A57 L46 A61 A53 | A62 A63 L59 A65 A64 L57 | A66 | A67 | A68 | L61 A72 A71 L63 A70 A69 | L65 A73 A74 L67 A75 A76 | L69 A79 A80 L71 A77 A78 | L73 A83 A84 L75 A81 A82 | L77 A86 A85 L79 A88 A87
properties part number "TopPlate" material "Polycarbonate, Clear"
